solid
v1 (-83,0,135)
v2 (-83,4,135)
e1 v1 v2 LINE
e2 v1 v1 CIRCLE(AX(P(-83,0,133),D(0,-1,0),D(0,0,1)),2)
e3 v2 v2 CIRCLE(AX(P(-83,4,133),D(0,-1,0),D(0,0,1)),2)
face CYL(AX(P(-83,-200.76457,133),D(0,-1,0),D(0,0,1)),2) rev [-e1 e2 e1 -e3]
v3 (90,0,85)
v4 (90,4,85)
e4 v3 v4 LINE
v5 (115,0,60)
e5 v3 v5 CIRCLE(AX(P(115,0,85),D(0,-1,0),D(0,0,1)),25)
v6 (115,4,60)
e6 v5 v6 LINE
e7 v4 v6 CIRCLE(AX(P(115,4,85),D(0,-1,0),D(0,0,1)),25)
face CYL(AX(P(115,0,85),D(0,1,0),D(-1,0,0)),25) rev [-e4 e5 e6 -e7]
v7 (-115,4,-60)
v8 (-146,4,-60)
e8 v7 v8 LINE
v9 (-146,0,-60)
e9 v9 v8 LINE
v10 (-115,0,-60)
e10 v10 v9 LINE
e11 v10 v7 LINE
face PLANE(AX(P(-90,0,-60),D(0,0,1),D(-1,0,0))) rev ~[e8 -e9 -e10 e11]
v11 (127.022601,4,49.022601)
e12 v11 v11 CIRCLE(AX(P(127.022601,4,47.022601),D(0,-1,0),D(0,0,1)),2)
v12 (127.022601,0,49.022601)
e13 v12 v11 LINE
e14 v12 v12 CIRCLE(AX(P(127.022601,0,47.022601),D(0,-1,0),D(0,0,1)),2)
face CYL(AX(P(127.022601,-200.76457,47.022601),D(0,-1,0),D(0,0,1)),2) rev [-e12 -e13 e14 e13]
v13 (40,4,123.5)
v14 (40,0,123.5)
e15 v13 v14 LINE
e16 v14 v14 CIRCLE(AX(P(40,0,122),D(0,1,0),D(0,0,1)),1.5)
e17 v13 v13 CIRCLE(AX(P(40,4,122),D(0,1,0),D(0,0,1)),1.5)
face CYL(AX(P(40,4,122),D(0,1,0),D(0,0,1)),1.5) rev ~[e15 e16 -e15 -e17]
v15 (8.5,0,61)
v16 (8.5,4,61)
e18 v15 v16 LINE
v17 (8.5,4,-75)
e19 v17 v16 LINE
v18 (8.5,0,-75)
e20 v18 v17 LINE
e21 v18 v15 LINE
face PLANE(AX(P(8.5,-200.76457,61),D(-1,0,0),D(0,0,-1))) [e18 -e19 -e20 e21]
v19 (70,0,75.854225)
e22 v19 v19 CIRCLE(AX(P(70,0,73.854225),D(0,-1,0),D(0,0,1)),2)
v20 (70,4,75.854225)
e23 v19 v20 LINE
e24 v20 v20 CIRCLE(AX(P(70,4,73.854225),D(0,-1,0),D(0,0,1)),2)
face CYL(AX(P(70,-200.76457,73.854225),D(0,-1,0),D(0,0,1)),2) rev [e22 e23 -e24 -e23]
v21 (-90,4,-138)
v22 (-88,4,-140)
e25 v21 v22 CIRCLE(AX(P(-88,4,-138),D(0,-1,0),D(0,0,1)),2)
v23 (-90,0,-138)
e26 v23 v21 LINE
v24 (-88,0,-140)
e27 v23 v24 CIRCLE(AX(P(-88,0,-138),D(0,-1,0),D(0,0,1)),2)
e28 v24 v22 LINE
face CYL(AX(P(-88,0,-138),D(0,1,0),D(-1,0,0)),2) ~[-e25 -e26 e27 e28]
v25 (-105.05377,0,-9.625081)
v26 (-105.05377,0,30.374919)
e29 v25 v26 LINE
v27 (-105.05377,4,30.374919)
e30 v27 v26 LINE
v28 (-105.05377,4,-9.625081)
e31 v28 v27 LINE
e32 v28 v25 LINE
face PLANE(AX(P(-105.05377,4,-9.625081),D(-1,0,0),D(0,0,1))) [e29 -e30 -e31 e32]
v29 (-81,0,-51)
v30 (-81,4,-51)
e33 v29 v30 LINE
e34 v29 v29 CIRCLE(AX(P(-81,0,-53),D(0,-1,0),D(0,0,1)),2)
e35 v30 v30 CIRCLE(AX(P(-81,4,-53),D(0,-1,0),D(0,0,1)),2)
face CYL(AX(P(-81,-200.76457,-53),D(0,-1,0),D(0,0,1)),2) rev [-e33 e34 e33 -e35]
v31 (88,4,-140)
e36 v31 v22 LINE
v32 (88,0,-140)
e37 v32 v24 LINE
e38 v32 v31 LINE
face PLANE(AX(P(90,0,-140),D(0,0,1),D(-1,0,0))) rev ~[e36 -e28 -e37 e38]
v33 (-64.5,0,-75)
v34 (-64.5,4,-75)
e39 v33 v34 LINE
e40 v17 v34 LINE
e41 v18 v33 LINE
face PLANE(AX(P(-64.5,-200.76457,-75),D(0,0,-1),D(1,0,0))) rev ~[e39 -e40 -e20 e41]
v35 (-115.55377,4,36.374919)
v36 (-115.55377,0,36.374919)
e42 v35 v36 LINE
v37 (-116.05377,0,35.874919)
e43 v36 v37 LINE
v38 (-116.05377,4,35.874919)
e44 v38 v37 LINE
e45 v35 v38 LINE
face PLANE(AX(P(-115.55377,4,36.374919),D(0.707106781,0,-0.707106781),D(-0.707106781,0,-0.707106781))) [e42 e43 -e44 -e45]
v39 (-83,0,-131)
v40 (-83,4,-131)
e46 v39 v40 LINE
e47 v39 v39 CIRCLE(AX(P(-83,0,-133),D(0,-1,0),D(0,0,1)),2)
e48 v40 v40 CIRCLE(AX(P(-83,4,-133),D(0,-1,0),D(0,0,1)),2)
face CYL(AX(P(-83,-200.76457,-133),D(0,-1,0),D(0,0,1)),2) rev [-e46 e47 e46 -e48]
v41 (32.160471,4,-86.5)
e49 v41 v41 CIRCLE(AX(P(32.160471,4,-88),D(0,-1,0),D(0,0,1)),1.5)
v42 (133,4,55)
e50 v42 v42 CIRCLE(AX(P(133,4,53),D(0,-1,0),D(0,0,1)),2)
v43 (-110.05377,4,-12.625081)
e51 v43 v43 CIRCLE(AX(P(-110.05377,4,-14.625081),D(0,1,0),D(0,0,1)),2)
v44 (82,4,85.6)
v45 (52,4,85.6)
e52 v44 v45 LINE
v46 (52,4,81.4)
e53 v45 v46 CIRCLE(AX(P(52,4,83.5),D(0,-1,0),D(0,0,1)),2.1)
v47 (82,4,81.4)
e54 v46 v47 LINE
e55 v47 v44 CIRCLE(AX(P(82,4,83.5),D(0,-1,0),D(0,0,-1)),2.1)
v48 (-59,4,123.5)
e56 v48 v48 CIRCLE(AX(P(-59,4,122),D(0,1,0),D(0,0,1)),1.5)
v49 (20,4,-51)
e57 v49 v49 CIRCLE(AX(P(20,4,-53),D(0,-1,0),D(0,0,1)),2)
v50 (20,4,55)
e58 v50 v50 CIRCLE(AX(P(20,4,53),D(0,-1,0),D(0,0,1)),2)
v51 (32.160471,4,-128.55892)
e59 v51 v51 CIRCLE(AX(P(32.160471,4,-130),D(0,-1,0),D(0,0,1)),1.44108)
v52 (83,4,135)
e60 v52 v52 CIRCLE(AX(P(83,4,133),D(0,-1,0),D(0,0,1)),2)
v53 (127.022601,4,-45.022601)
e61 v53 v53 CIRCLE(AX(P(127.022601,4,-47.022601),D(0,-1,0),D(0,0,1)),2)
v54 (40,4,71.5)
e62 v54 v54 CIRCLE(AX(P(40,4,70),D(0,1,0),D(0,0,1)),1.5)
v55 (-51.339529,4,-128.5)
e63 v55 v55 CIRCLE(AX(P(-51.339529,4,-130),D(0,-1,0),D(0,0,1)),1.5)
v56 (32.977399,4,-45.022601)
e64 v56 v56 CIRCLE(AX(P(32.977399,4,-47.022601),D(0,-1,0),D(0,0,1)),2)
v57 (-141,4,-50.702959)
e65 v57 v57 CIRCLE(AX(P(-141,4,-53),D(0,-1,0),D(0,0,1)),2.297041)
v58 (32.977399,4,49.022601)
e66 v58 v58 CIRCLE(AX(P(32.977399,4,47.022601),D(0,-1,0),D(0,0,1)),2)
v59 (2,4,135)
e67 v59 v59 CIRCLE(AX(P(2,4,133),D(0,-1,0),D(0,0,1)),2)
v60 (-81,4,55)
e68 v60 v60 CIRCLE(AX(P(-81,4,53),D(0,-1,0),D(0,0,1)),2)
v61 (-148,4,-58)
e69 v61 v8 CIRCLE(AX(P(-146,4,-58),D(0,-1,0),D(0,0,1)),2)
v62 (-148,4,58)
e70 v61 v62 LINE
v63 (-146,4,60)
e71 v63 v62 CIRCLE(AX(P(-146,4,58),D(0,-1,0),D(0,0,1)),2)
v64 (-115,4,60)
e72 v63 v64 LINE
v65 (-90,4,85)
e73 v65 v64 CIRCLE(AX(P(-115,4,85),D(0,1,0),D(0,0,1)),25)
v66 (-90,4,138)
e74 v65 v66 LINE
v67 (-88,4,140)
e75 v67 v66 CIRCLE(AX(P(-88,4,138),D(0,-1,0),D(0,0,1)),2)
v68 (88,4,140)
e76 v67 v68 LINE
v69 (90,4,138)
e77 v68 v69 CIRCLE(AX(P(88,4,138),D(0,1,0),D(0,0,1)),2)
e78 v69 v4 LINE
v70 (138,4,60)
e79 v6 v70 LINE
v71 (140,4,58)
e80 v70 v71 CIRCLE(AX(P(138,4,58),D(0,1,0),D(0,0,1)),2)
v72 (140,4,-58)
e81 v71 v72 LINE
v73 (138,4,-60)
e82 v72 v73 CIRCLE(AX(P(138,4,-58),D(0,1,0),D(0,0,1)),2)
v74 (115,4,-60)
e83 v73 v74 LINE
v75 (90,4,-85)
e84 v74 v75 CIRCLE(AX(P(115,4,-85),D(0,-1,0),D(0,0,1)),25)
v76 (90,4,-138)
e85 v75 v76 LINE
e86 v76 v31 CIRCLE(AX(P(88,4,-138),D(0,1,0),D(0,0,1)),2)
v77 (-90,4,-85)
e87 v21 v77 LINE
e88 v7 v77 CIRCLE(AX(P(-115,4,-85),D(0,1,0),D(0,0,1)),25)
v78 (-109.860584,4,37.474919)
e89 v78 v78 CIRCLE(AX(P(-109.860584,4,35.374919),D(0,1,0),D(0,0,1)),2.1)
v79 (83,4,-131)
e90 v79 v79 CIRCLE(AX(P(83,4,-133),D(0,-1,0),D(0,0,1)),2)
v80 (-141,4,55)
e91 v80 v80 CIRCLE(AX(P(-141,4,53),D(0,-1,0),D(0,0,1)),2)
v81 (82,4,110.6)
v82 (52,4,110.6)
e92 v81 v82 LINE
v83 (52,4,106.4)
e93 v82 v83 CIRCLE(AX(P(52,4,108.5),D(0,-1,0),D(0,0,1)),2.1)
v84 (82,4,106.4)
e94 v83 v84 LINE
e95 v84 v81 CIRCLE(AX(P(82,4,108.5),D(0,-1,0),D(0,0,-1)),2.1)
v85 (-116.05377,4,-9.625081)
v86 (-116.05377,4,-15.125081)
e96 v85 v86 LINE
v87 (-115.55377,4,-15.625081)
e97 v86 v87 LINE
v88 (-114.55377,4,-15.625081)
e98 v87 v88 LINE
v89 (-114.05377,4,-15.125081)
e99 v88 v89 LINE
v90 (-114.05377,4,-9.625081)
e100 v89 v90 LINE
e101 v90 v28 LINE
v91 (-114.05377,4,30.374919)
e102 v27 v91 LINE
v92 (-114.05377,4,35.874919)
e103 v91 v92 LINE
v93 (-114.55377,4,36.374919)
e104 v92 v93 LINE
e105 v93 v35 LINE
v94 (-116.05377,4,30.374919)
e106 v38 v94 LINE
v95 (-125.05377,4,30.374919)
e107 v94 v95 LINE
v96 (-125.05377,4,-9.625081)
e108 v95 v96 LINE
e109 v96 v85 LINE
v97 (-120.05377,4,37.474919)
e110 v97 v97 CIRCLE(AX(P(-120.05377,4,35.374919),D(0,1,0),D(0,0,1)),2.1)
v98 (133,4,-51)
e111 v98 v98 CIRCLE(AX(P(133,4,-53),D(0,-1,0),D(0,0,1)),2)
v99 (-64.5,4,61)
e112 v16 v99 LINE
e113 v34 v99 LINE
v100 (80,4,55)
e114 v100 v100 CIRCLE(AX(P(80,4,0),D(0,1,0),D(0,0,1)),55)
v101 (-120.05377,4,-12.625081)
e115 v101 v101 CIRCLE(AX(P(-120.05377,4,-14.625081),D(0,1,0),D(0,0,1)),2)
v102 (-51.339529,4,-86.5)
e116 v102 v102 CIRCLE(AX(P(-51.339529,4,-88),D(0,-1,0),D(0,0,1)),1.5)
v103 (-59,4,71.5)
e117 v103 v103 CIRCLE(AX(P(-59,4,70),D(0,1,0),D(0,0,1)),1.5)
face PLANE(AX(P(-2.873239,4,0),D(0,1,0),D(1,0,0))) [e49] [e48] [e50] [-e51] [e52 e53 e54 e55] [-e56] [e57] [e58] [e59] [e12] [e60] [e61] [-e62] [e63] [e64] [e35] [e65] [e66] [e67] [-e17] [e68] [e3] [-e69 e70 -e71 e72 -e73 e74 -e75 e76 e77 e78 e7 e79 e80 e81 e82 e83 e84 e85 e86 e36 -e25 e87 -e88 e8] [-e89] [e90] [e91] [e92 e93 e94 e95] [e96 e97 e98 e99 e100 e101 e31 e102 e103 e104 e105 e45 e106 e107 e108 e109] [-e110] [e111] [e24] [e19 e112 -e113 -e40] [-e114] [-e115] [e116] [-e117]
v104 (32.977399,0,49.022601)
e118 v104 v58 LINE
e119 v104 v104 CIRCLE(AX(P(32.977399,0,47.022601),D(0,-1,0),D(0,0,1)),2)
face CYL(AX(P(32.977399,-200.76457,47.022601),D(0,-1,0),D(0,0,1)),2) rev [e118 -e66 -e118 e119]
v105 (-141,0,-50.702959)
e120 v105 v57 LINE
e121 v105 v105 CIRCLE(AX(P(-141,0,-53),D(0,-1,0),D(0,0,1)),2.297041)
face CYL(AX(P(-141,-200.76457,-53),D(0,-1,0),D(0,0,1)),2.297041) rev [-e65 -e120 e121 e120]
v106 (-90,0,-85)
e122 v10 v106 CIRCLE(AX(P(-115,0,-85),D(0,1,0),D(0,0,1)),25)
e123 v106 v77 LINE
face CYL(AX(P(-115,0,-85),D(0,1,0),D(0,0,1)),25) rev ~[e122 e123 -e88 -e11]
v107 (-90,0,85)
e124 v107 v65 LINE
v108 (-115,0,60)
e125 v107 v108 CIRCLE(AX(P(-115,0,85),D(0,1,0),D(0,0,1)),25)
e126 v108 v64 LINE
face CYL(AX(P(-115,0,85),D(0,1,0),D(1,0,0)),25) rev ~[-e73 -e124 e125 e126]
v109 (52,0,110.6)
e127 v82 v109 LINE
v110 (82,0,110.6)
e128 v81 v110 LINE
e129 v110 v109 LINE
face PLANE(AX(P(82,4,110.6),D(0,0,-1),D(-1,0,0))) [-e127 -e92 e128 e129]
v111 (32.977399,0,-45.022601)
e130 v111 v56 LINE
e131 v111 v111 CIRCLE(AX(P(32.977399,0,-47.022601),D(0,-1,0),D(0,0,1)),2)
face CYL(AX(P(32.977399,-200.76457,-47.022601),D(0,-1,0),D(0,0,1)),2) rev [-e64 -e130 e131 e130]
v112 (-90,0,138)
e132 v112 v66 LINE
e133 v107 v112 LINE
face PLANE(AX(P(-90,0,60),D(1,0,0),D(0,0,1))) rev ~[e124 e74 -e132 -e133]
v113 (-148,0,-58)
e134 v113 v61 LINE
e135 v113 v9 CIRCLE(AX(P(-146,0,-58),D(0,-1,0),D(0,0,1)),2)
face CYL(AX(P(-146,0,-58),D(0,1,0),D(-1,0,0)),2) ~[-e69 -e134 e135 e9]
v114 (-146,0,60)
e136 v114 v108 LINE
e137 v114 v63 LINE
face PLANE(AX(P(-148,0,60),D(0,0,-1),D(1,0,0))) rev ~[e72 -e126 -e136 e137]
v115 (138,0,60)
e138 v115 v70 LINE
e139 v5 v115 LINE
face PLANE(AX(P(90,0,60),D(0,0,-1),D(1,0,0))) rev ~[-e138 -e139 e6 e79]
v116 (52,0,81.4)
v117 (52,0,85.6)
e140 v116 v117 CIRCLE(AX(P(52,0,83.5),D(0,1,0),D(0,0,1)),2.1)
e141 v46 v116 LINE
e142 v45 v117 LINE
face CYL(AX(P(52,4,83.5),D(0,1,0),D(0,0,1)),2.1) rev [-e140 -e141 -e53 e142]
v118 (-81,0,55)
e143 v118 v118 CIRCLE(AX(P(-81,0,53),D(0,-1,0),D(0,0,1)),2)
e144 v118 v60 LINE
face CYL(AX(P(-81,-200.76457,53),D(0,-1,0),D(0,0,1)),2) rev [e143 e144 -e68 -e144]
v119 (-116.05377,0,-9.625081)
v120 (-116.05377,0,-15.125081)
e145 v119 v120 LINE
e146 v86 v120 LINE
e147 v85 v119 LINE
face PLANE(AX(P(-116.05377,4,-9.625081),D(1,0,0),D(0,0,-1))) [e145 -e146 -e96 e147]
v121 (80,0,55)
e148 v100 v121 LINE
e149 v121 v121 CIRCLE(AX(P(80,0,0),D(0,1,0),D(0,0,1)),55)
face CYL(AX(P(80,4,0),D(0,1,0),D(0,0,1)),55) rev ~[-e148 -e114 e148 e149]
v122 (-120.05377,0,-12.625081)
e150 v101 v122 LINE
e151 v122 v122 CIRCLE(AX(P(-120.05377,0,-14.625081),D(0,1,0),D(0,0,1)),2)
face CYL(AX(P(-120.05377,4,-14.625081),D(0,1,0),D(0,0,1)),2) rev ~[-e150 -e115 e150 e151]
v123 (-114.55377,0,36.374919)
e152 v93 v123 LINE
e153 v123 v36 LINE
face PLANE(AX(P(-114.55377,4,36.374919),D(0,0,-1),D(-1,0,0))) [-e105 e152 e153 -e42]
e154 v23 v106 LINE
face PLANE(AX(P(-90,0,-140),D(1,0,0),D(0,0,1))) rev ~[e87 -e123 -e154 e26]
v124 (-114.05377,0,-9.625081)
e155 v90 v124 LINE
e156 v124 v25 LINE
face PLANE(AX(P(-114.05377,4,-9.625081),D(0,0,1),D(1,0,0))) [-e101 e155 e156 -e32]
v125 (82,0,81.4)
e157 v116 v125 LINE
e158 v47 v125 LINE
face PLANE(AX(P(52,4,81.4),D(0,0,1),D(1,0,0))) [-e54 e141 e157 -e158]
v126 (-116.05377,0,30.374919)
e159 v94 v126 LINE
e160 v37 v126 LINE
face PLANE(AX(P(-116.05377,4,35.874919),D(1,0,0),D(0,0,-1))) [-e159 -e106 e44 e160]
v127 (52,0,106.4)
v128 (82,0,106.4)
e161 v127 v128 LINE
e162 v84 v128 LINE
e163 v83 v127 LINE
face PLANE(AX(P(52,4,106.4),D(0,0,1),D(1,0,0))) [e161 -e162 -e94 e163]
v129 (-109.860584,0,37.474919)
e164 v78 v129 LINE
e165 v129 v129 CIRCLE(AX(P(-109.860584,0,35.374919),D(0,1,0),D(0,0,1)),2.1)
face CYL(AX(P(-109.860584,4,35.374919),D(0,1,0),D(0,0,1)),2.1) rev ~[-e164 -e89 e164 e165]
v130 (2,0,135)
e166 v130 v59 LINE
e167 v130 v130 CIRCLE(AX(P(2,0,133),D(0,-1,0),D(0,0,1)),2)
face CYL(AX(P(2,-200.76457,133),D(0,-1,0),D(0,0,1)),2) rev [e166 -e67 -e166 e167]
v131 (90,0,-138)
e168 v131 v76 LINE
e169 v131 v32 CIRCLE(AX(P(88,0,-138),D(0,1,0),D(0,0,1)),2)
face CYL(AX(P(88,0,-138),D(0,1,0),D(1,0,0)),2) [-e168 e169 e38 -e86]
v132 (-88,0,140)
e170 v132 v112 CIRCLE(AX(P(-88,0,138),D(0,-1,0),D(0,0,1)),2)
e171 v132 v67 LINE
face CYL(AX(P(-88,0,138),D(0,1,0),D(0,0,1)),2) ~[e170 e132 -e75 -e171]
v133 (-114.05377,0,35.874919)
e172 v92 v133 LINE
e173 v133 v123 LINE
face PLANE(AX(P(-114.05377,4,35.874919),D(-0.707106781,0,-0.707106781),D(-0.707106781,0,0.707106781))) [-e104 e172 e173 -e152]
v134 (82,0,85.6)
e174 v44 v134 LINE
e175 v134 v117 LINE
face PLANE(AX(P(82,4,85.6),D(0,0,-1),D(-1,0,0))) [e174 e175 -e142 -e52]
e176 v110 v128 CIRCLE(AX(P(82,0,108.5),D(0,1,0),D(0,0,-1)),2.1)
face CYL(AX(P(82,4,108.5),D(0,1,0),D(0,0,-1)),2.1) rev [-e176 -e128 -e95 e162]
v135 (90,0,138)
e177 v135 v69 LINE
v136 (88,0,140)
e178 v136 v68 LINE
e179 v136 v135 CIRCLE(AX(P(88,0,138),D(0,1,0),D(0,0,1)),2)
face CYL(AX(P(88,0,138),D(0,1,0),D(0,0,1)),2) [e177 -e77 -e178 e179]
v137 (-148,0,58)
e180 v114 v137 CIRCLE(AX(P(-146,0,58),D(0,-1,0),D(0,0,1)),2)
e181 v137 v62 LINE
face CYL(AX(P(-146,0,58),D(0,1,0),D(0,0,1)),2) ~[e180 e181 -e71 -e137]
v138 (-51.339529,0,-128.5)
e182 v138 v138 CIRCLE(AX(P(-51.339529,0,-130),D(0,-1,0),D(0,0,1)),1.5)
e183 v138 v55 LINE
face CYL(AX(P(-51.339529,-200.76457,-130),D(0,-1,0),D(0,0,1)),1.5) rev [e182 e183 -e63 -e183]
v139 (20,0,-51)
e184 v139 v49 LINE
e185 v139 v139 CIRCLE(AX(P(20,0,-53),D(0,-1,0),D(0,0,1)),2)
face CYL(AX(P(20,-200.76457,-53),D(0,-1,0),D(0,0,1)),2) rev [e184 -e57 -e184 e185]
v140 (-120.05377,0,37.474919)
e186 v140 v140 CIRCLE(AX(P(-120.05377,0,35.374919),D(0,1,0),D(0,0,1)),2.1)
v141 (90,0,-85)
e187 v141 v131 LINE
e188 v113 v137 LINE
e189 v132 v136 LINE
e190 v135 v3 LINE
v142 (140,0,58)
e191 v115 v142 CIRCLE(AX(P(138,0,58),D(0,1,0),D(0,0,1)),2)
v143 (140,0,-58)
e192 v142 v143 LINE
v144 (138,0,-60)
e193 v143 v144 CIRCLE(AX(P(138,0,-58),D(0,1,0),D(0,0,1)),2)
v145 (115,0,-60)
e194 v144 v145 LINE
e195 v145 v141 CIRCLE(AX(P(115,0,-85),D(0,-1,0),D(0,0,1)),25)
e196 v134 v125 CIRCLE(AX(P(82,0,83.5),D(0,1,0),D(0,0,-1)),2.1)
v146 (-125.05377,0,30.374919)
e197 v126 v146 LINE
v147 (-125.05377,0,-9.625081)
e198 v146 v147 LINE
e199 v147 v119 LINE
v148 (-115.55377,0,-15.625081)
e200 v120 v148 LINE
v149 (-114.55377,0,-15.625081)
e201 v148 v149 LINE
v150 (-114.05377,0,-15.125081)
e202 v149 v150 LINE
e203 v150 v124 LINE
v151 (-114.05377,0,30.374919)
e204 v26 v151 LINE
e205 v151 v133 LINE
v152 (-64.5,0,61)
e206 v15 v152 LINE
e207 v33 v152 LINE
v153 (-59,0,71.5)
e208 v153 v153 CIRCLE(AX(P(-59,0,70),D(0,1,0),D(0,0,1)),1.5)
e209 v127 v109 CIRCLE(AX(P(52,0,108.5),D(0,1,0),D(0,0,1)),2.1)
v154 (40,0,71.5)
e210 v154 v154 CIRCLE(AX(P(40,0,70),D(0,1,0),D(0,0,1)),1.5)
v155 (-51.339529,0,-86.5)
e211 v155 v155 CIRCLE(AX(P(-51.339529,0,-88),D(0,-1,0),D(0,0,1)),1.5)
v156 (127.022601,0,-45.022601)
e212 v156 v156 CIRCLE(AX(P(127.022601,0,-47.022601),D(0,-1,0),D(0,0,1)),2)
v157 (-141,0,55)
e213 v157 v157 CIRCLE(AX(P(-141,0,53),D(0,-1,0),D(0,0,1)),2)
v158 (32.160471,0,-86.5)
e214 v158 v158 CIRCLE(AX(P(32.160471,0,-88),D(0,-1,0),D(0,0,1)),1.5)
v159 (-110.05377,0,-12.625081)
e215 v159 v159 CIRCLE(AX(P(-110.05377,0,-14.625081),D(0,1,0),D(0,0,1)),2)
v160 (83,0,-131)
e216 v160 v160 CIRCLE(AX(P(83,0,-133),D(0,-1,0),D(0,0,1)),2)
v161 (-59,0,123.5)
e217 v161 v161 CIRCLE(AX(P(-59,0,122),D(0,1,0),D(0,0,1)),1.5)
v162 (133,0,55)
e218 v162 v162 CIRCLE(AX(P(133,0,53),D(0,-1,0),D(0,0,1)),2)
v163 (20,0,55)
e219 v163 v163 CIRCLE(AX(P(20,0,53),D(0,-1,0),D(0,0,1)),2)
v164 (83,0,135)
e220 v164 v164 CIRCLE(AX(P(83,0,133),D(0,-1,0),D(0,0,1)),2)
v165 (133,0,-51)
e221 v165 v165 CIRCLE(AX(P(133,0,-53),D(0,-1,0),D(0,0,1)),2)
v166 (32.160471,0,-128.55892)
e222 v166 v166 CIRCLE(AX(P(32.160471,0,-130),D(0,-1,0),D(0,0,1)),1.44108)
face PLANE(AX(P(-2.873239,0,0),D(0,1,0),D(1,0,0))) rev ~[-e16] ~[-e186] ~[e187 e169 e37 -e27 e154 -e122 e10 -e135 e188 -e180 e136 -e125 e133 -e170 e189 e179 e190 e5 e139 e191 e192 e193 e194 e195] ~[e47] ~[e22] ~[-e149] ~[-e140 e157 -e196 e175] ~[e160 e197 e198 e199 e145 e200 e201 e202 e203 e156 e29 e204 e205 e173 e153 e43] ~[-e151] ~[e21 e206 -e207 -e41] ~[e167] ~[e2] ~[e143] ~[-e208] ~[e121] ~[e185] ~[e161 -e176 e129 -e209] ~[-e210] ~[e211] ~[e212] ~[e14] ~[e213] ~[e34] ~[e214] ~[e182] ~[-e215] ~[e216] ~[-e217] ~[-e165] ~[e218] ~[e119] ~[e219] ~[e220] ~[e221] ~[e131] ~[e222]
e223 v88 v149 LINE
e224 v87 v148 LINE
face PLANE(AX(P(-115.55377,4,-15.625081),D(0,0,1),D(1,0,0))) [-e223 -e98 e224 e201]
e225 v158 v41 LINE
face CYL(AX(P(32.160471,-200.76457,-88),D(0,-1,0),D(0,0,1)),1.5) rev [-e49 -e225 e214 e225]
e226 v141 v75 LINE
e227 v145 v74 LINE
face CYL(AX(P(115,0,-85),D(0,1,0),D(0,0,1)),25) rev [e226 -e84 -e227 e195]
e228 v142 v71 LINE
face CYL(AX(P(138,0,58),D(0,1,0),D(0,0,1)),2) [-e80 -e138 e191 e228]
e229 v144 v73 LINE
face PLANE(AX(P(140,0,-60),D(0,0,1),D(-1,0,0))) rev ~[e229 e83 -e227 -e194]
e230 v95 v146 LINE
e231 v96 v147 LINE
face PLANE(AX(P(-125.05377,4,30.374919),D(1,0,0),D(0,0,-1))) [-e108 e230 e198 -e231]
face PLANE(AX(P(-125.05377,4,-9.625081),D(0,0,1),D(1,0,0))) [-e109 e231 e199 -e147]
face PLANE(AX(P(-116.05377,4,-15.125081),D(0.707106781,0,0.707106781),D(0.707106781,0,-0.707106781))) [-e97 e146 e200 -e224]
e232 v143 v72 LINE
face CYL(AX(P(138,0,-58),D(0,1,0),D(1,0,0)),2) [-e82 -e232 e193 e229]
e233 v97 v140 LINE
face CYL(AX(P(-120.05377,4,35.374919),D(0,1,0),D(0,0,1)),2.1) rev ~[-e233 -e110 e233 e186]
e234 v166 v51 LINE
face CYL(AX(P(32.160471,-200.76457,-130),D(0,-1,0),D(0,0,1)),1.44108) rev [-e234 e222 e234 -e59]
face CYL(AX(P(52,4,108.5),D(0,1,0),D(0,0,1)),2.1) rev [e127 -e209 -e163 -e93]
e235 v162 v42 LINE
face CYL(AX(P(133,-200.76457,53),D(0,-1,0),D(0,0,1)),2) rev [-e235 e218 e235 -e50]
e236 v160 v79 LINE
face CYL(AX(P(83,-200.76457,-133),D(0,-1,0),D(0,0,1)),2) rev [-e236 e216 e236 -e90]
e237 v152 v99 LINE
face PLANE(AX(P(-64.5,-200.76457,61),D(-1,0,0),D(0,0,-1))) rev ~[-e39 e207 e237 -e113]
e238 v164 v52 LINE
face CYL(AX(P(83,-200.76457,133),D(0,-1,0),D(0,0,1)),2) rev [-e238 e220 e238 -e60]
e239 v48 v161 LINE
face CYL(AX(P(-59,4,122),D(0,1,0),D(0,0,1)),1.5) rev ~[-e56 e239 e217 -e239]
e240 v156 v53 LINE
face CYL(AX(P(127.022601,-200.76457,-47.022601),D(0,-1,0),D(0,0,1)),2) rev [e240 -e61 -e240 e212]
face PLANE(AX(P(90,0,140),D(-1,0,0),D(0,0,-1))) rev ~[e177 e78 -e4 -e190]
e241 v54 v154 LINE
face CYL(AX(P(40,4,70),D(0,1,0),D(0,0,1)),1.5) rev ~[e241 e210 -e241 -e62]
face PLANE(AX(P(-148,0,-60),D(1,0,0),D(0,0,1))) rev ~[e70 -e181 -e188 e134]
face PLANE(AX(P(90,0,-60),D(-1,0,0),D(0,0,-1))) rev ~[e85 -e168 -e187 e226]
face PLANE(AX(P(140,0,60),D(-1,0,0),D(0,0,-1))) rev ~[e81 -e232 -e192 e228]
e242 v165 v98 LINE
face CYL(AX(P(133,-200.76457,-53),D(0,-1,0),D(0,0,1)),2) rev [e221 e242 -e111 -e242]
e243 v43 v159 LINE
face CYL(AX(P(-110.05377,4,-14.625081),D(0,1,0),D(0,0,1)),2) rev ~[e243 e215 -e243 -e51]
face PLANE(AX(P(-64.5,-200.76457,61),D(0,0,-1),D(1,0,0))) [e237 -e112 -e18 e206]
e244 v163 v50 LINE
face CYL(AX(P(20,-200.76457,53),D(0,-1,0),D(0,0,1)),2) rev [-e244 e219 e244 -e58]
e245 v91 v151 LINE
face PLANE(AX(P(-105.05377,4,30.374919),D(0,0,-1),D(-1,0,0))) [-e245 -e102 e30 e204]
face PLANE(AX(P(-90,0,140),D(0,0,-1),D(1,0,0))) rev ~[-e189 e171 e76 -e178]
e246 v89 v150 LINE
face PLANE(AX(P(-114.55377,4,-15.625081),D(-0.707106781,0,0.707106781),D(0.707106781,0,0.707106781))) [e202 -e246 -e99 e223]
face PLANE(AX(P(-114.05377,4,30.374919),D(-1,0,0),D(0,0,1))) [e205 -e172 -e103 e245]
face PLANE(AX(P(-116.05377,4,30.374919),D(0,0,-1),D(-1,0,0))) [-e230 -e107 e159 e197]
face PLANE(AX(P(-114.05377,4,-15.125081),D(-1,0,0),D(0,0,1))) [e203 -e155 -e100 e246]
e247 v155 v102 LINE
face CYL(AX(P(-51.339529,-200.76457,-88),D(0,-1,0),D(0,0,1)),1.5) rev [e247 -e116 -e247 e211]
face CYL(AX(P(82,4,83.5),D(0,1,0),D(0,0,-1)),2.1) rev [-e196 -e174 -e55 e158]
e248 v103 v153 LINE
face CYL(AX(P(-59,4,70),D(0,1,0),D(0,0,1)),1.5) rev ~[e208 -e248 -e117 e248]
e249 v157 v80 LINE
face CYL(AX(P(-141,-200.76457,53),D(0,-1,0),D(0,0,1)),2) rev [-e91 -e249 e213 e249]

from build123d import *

# Parameters (mm, degrees)
EXTRUDE_1_DEPTH          = 4
CUT_EXTRUDE_2_DEPTH      = 204.764570031
CUT_EXTRUDE_2_DEPTH_BACK = 204.764570031
SKETCH_3_R               = 2
SKETCH_3_R_2             = 2.297041363
SKETCH_4_R               = 55
CUT_EXTRUDE_3_DEPTH      = 10
SKETCH_5_R               = 2
SKETCH_5_R_2             = 2.1
CUT_EXTRUDE_4_DEPTH      = 204.764570031
SKETCH_6_R               = 1.5
CUT_EXTRUDE_5_DEPTH      = 204.764570031
CUT_EXTRUDE_6_DEPTH      = 204.764570031
CUT_EXTRUDE_7_DEPTH      = 204.764570031
CUT_EXTRUDE_7_DEPTH_BACK = 204.764570031
SKETCH_8_W               = 73
SKETCH_8_H               = 136
CUT_EXTRUDE_8_DEPTH      = 204.764570031
CUT_EXTRUDE_8_DEPTH_BACK = 204.764570031
SKETCH_9_R               = 1.5
SKETCH_9_R_2             = 1.441079752
FILLET_1_R               = 2
FILLET_2_R               = 25
FILLET_3_R               = 25


with BuildPart() as part:
    # 草图1 → 凸台-拉伸1 (new body)
    with BuildSketch(Plane(origin=(0, 0, 0), x_dir=(1, 0, 0), z_dir=(0, 1, 0))):
        Polygon((-90, -140), (90, -140), (90, -60), (140, -60), (140, 60), (90, 60), (90, 140), (-90, 140), (-90, 60), (-140, 60), (-148, 60), (-148, -60), (-140, -60), (-90, -60), align=None)
    extrude(amount=EXTRUDE_1_DEPTH)

    # 草图3 → 切除-拉伸2 (cut, two sides: drawn at the far end of the back side and taken through both)
    with BuildSketch(Plane(origin=(0, 4, 0), x_dir=(1, 0, 0), z_dir=(0, 1, 0)).offset(-CUT_EXTRUDE_2_DEPTH_BACK)):
        with Locations(Location((-83, -133, 0), (0, 0, 270))):
            Circle(SKETCH_3_R)
        with Locations(Location((83, -133, 0), (0, 0, 270))):
            Circle(SKETCH_3_R)
        with Locations(Location((-83, 133, 0), (0, 0, 270))):
            Circle(SKETCH_3_R)
        with Locations(Location((83, 133, 0), (0, 0, 270))):
            Circle(SKETCH_3_R)
        with Locations(Location((133, 53, 0), (0, 0, 270))):
            Circle(SKETCH_3_R)
        with Locations(Location((133, -53, 0), (0, 0, 270))):
            Circle(SKETCH_3_R)
        with Locations(Location((32.977399051, 47.022600949, 0), (0, 0, 270))):
            Circle(SKETCH_3_R)
        with Locations(Location((127.022600949, 47.022600949, 0), (0, 0, 270))):
            Circle(SKETCH_3_R)
        with Locations(Location((127.022600949, -47.022600949, 0), (0, 0, 270))):
            Circle(SKETCH_3_R)
        with Locations(Location((32.977399051, -47.022600949, 0), (0, 0, 270))):
            Circle(SKETCH_3_R)
        with Locations(Location((-141, 53, 0), (0, 0, 270))):
            Circle(SKETCH_3_R_2)
        with Locations(Location((-141, -53, 0), (0, 0, 270))):
            Circle(SKETCH_3_R)
        with Locations(Location((20, -53, 0), (0, 0, 270))):
            Circle(SKETCH_3_R)
        with Locations(Location((20, 53, 0), (0, 0, 270))):
            Circle(SKETCH_3_R)
        with Locations(Location((-81, 53, 0), (0, 0, 270))):
            Circle(SKETCH_3_R)
        with Locations(Location((-81, -53, 0), (0, 0, 270))):
            Circle(SKETCH_3_R)
        with Locations(Location((70, -73.854225456, 0), (0, 0, 270))):
            Circle(SKETCH_3_R)
        with Locations(Location((2, -133, 0), (0, 0, 270))):
            Circle(SKETCH_3_R)
    extrude(amount=CUT_EXTRUDE_2_DEPTH + CUT_EXTRUDE_2_DEPTH_BACK, mode=Mode.SUBTRACT)

    # 草图4 → 切除-拉伸3 (cut)
    with BuildSketch(Plane(origin=(0, 4, 0), x_dir=(1, 0, 0), z_dir=(0, 1, 0))):
        with Locations(Location((80, 0, 0), (0, 0, 270))):
            Circle(SKETCH_4_R)
    extrude(amount=-CUT_EXTRUDE_3_DEPTH, mode=Mode.SUBTRACT)

    # 草图5 → 切除-拉伸4 (cut, through all)
    with BuildSketch(Plane(origin=(0, 4, 0), x_dir=(1, 0, 0), z_dir=(0, 1, 0))):
        with Locations(Location((-110.053769942, 14.625081272, 0), (0, 0, 270))):
            Circle(SKETCH_5_R)
        with Locations(Location((-120.053769942, 14.625081272, 0), (0, 0, 270))):
            Circle(SKETCH_5_R)
        with Locations(Location((-120.053769942, -35.374918728, 0), (0, 0, 270))):
            Circle(SKETCH_5_R_2)
        with Locations(Location((-109.860583636, -35.374918728, 0), (0, 0, 270))):
            Circle(SKETCH_5_R_2)
        Polygon((-105.053769942, 9.625081272), (-105.053769942, -30.374918728), (-114.053769942, -30.374918728), (-114.053769942, -35.874918728), (-114.553769942, -36.374918728), (-115.553769942, -36.374918728), (-116.053769942, -35.874918728), (-116.053769942, -30.374918728), (-125.053769942, -30.374918728), (-125.053769942, 9.625081272), (-116.053769942, 9.625081272), (-116.053769942, 15.125081272), (-115.553769942, 15.625081272), (-114.553769942, 15.625081272), (-114.053769942, 15.125081272), (-114.053769942, 9.625081272), align=None)
    extrude(amount=-CUT_EXTRUDE_4_DEPTH, mode=Mode.SUBTRACT)

    # 草图6 → 切除-拉伸5 (cut, through all)
    with BuildSketch(Plane(origin=(0, 4, 0), x_dir=(1, 0, 0), z_dir=(0, 1, 0))):
        with Locations(Location((40, -122, 0), (0, 0, 270))):
            Circle(SKETCH_6_R)
        with Locations(Location((40, -70, 0), (0, 0, 270))):
            Circle(SKETCH_6_R)
        with Locations(Location((-59, -122, 0), (0, 0, 270))):
            Circle(SKETCH_6_R)
        with Locations(Location((-59, -70, 0), (0, 0, 270))):
            Circle(SKETCH_6_R)
    extrude(amount=-CUT_EXTRUDE_5_DEPTH, mode=Mode.SUBTRACT)

    # 草图7 → 切除-拉伸6 (cut, through all)
    with BuildSketch(Plane(origin=(0, 4, 0), x_dir=(1, 0, 0), z_dir=(0, 1, 0))):
        with BuildLine():
            Line((82, -110.6), (52, -110.6))
            ThreePointArc((52, -110.6), (49.9, -108.5), (52, -106.4))
            Line((52, -106.4), (82, -106.4))
            ThreePointArc((82, -106.4), (84.1, -108.5), (82, -110.6))
        make_face()
        with BuildLine():
            Line((82, -85.6), (52, -85.6))
            ThreePointArc((52, -85.6), (49.9, -83.5), (52, -81.4))
            Line((52, -81.4), (82, -81.4))
            ThreePointArc((82, -81.4), (84.1, -83.5), (82, -85.6))
        make_face()
    extrude(amount=-CUT_EXTRUDE_6_DEPTH, mode=Mode.SUBTRACT)

    # 草图8 → 切除-拉伸7 (cut, two sides: drawn at the far end of the back side and taken through both)
    with BuildSketch(Plane(origin=(0, 4, 0), x_dir=(1, 0, 0), z_dir=(0, 1, 0)).offset(-CUT_EXTRUDE_7_DEPTH_BACK)):
        with Locations((-28, 7)):
            Rectangle(SKETCH_8_W, SKETCH_8_H)
    extrude(amount=CUT_EXTRUDE_7_DEPTH + CUT_EXTRUDE_7_DEPTH_BACK, mode=Mode.SUBTRACT)

    # 草图9 → 切除-拉伸8 (cut, two sides: drawn at the far end of the back side and taken through both)
    with BuildSketch(Plane(origin=(0, 4, 0), x_dir=(1, 0, 0), z_dir=(0, 1, 0)).offset(-CUT_EXTRUDE_8_DEPTH_BACK)):
        with Locations(Location((-51.339528663, 88, 0), (0, 0, 270))):
            Circle(SKETCH_9_R)
        with Locations(Location((-51.339528663, 130, 0), (0, 0, 270))):
            Circle(SKETCH_9_R)
        with Locations(Location((32.160471337, 130, 0), (0, 0, 270))):
            Circle(SKETCH_9_R_2)
        with Locations(Location((32.160471337, 88, 0), (0, 0, 270))):
            Circle(SKETCH_9_R)
    extrude(amount=CUT_EXTRUDE_8_DEPTH + CUT_EXTRUDE_8_DEPTH_BACK, mode=Mode.SUBTRACT)

    # 圆角1
    fillet_1_edges = [part.edges().sort_by_distance(p)[0] for p in [
        (-148, 2, -60),
        (-90, 2, -140),
        (90, 2, -140),
        (140, 2, -60),
        (140, 2, 60),
        (90, 2, 140),
        (-90, 2, 140),
        (-148, 2, 60),
    ]]
    fillet(fillet_1_edges, radius=FILLET_1_R)

    # 圆角2
    fillet_2_edges = [part.edges().sort_by_distance(p)[0] for p in [
        (-90, 2, 60),
    ]]
    fillet(fillet_2_edges, radius=FILLET_2_R)

    # 圆角3
    fillet_3_edges = [part.edges().sort_by_distance(p)[0] for p in [
        (-90, 2, -60),
        (90, 2, -60),
        (90, 2, 60),
    ]]
    fillet(fillet_3_edges, radius=FILLET_3_R)


solid = part.part
